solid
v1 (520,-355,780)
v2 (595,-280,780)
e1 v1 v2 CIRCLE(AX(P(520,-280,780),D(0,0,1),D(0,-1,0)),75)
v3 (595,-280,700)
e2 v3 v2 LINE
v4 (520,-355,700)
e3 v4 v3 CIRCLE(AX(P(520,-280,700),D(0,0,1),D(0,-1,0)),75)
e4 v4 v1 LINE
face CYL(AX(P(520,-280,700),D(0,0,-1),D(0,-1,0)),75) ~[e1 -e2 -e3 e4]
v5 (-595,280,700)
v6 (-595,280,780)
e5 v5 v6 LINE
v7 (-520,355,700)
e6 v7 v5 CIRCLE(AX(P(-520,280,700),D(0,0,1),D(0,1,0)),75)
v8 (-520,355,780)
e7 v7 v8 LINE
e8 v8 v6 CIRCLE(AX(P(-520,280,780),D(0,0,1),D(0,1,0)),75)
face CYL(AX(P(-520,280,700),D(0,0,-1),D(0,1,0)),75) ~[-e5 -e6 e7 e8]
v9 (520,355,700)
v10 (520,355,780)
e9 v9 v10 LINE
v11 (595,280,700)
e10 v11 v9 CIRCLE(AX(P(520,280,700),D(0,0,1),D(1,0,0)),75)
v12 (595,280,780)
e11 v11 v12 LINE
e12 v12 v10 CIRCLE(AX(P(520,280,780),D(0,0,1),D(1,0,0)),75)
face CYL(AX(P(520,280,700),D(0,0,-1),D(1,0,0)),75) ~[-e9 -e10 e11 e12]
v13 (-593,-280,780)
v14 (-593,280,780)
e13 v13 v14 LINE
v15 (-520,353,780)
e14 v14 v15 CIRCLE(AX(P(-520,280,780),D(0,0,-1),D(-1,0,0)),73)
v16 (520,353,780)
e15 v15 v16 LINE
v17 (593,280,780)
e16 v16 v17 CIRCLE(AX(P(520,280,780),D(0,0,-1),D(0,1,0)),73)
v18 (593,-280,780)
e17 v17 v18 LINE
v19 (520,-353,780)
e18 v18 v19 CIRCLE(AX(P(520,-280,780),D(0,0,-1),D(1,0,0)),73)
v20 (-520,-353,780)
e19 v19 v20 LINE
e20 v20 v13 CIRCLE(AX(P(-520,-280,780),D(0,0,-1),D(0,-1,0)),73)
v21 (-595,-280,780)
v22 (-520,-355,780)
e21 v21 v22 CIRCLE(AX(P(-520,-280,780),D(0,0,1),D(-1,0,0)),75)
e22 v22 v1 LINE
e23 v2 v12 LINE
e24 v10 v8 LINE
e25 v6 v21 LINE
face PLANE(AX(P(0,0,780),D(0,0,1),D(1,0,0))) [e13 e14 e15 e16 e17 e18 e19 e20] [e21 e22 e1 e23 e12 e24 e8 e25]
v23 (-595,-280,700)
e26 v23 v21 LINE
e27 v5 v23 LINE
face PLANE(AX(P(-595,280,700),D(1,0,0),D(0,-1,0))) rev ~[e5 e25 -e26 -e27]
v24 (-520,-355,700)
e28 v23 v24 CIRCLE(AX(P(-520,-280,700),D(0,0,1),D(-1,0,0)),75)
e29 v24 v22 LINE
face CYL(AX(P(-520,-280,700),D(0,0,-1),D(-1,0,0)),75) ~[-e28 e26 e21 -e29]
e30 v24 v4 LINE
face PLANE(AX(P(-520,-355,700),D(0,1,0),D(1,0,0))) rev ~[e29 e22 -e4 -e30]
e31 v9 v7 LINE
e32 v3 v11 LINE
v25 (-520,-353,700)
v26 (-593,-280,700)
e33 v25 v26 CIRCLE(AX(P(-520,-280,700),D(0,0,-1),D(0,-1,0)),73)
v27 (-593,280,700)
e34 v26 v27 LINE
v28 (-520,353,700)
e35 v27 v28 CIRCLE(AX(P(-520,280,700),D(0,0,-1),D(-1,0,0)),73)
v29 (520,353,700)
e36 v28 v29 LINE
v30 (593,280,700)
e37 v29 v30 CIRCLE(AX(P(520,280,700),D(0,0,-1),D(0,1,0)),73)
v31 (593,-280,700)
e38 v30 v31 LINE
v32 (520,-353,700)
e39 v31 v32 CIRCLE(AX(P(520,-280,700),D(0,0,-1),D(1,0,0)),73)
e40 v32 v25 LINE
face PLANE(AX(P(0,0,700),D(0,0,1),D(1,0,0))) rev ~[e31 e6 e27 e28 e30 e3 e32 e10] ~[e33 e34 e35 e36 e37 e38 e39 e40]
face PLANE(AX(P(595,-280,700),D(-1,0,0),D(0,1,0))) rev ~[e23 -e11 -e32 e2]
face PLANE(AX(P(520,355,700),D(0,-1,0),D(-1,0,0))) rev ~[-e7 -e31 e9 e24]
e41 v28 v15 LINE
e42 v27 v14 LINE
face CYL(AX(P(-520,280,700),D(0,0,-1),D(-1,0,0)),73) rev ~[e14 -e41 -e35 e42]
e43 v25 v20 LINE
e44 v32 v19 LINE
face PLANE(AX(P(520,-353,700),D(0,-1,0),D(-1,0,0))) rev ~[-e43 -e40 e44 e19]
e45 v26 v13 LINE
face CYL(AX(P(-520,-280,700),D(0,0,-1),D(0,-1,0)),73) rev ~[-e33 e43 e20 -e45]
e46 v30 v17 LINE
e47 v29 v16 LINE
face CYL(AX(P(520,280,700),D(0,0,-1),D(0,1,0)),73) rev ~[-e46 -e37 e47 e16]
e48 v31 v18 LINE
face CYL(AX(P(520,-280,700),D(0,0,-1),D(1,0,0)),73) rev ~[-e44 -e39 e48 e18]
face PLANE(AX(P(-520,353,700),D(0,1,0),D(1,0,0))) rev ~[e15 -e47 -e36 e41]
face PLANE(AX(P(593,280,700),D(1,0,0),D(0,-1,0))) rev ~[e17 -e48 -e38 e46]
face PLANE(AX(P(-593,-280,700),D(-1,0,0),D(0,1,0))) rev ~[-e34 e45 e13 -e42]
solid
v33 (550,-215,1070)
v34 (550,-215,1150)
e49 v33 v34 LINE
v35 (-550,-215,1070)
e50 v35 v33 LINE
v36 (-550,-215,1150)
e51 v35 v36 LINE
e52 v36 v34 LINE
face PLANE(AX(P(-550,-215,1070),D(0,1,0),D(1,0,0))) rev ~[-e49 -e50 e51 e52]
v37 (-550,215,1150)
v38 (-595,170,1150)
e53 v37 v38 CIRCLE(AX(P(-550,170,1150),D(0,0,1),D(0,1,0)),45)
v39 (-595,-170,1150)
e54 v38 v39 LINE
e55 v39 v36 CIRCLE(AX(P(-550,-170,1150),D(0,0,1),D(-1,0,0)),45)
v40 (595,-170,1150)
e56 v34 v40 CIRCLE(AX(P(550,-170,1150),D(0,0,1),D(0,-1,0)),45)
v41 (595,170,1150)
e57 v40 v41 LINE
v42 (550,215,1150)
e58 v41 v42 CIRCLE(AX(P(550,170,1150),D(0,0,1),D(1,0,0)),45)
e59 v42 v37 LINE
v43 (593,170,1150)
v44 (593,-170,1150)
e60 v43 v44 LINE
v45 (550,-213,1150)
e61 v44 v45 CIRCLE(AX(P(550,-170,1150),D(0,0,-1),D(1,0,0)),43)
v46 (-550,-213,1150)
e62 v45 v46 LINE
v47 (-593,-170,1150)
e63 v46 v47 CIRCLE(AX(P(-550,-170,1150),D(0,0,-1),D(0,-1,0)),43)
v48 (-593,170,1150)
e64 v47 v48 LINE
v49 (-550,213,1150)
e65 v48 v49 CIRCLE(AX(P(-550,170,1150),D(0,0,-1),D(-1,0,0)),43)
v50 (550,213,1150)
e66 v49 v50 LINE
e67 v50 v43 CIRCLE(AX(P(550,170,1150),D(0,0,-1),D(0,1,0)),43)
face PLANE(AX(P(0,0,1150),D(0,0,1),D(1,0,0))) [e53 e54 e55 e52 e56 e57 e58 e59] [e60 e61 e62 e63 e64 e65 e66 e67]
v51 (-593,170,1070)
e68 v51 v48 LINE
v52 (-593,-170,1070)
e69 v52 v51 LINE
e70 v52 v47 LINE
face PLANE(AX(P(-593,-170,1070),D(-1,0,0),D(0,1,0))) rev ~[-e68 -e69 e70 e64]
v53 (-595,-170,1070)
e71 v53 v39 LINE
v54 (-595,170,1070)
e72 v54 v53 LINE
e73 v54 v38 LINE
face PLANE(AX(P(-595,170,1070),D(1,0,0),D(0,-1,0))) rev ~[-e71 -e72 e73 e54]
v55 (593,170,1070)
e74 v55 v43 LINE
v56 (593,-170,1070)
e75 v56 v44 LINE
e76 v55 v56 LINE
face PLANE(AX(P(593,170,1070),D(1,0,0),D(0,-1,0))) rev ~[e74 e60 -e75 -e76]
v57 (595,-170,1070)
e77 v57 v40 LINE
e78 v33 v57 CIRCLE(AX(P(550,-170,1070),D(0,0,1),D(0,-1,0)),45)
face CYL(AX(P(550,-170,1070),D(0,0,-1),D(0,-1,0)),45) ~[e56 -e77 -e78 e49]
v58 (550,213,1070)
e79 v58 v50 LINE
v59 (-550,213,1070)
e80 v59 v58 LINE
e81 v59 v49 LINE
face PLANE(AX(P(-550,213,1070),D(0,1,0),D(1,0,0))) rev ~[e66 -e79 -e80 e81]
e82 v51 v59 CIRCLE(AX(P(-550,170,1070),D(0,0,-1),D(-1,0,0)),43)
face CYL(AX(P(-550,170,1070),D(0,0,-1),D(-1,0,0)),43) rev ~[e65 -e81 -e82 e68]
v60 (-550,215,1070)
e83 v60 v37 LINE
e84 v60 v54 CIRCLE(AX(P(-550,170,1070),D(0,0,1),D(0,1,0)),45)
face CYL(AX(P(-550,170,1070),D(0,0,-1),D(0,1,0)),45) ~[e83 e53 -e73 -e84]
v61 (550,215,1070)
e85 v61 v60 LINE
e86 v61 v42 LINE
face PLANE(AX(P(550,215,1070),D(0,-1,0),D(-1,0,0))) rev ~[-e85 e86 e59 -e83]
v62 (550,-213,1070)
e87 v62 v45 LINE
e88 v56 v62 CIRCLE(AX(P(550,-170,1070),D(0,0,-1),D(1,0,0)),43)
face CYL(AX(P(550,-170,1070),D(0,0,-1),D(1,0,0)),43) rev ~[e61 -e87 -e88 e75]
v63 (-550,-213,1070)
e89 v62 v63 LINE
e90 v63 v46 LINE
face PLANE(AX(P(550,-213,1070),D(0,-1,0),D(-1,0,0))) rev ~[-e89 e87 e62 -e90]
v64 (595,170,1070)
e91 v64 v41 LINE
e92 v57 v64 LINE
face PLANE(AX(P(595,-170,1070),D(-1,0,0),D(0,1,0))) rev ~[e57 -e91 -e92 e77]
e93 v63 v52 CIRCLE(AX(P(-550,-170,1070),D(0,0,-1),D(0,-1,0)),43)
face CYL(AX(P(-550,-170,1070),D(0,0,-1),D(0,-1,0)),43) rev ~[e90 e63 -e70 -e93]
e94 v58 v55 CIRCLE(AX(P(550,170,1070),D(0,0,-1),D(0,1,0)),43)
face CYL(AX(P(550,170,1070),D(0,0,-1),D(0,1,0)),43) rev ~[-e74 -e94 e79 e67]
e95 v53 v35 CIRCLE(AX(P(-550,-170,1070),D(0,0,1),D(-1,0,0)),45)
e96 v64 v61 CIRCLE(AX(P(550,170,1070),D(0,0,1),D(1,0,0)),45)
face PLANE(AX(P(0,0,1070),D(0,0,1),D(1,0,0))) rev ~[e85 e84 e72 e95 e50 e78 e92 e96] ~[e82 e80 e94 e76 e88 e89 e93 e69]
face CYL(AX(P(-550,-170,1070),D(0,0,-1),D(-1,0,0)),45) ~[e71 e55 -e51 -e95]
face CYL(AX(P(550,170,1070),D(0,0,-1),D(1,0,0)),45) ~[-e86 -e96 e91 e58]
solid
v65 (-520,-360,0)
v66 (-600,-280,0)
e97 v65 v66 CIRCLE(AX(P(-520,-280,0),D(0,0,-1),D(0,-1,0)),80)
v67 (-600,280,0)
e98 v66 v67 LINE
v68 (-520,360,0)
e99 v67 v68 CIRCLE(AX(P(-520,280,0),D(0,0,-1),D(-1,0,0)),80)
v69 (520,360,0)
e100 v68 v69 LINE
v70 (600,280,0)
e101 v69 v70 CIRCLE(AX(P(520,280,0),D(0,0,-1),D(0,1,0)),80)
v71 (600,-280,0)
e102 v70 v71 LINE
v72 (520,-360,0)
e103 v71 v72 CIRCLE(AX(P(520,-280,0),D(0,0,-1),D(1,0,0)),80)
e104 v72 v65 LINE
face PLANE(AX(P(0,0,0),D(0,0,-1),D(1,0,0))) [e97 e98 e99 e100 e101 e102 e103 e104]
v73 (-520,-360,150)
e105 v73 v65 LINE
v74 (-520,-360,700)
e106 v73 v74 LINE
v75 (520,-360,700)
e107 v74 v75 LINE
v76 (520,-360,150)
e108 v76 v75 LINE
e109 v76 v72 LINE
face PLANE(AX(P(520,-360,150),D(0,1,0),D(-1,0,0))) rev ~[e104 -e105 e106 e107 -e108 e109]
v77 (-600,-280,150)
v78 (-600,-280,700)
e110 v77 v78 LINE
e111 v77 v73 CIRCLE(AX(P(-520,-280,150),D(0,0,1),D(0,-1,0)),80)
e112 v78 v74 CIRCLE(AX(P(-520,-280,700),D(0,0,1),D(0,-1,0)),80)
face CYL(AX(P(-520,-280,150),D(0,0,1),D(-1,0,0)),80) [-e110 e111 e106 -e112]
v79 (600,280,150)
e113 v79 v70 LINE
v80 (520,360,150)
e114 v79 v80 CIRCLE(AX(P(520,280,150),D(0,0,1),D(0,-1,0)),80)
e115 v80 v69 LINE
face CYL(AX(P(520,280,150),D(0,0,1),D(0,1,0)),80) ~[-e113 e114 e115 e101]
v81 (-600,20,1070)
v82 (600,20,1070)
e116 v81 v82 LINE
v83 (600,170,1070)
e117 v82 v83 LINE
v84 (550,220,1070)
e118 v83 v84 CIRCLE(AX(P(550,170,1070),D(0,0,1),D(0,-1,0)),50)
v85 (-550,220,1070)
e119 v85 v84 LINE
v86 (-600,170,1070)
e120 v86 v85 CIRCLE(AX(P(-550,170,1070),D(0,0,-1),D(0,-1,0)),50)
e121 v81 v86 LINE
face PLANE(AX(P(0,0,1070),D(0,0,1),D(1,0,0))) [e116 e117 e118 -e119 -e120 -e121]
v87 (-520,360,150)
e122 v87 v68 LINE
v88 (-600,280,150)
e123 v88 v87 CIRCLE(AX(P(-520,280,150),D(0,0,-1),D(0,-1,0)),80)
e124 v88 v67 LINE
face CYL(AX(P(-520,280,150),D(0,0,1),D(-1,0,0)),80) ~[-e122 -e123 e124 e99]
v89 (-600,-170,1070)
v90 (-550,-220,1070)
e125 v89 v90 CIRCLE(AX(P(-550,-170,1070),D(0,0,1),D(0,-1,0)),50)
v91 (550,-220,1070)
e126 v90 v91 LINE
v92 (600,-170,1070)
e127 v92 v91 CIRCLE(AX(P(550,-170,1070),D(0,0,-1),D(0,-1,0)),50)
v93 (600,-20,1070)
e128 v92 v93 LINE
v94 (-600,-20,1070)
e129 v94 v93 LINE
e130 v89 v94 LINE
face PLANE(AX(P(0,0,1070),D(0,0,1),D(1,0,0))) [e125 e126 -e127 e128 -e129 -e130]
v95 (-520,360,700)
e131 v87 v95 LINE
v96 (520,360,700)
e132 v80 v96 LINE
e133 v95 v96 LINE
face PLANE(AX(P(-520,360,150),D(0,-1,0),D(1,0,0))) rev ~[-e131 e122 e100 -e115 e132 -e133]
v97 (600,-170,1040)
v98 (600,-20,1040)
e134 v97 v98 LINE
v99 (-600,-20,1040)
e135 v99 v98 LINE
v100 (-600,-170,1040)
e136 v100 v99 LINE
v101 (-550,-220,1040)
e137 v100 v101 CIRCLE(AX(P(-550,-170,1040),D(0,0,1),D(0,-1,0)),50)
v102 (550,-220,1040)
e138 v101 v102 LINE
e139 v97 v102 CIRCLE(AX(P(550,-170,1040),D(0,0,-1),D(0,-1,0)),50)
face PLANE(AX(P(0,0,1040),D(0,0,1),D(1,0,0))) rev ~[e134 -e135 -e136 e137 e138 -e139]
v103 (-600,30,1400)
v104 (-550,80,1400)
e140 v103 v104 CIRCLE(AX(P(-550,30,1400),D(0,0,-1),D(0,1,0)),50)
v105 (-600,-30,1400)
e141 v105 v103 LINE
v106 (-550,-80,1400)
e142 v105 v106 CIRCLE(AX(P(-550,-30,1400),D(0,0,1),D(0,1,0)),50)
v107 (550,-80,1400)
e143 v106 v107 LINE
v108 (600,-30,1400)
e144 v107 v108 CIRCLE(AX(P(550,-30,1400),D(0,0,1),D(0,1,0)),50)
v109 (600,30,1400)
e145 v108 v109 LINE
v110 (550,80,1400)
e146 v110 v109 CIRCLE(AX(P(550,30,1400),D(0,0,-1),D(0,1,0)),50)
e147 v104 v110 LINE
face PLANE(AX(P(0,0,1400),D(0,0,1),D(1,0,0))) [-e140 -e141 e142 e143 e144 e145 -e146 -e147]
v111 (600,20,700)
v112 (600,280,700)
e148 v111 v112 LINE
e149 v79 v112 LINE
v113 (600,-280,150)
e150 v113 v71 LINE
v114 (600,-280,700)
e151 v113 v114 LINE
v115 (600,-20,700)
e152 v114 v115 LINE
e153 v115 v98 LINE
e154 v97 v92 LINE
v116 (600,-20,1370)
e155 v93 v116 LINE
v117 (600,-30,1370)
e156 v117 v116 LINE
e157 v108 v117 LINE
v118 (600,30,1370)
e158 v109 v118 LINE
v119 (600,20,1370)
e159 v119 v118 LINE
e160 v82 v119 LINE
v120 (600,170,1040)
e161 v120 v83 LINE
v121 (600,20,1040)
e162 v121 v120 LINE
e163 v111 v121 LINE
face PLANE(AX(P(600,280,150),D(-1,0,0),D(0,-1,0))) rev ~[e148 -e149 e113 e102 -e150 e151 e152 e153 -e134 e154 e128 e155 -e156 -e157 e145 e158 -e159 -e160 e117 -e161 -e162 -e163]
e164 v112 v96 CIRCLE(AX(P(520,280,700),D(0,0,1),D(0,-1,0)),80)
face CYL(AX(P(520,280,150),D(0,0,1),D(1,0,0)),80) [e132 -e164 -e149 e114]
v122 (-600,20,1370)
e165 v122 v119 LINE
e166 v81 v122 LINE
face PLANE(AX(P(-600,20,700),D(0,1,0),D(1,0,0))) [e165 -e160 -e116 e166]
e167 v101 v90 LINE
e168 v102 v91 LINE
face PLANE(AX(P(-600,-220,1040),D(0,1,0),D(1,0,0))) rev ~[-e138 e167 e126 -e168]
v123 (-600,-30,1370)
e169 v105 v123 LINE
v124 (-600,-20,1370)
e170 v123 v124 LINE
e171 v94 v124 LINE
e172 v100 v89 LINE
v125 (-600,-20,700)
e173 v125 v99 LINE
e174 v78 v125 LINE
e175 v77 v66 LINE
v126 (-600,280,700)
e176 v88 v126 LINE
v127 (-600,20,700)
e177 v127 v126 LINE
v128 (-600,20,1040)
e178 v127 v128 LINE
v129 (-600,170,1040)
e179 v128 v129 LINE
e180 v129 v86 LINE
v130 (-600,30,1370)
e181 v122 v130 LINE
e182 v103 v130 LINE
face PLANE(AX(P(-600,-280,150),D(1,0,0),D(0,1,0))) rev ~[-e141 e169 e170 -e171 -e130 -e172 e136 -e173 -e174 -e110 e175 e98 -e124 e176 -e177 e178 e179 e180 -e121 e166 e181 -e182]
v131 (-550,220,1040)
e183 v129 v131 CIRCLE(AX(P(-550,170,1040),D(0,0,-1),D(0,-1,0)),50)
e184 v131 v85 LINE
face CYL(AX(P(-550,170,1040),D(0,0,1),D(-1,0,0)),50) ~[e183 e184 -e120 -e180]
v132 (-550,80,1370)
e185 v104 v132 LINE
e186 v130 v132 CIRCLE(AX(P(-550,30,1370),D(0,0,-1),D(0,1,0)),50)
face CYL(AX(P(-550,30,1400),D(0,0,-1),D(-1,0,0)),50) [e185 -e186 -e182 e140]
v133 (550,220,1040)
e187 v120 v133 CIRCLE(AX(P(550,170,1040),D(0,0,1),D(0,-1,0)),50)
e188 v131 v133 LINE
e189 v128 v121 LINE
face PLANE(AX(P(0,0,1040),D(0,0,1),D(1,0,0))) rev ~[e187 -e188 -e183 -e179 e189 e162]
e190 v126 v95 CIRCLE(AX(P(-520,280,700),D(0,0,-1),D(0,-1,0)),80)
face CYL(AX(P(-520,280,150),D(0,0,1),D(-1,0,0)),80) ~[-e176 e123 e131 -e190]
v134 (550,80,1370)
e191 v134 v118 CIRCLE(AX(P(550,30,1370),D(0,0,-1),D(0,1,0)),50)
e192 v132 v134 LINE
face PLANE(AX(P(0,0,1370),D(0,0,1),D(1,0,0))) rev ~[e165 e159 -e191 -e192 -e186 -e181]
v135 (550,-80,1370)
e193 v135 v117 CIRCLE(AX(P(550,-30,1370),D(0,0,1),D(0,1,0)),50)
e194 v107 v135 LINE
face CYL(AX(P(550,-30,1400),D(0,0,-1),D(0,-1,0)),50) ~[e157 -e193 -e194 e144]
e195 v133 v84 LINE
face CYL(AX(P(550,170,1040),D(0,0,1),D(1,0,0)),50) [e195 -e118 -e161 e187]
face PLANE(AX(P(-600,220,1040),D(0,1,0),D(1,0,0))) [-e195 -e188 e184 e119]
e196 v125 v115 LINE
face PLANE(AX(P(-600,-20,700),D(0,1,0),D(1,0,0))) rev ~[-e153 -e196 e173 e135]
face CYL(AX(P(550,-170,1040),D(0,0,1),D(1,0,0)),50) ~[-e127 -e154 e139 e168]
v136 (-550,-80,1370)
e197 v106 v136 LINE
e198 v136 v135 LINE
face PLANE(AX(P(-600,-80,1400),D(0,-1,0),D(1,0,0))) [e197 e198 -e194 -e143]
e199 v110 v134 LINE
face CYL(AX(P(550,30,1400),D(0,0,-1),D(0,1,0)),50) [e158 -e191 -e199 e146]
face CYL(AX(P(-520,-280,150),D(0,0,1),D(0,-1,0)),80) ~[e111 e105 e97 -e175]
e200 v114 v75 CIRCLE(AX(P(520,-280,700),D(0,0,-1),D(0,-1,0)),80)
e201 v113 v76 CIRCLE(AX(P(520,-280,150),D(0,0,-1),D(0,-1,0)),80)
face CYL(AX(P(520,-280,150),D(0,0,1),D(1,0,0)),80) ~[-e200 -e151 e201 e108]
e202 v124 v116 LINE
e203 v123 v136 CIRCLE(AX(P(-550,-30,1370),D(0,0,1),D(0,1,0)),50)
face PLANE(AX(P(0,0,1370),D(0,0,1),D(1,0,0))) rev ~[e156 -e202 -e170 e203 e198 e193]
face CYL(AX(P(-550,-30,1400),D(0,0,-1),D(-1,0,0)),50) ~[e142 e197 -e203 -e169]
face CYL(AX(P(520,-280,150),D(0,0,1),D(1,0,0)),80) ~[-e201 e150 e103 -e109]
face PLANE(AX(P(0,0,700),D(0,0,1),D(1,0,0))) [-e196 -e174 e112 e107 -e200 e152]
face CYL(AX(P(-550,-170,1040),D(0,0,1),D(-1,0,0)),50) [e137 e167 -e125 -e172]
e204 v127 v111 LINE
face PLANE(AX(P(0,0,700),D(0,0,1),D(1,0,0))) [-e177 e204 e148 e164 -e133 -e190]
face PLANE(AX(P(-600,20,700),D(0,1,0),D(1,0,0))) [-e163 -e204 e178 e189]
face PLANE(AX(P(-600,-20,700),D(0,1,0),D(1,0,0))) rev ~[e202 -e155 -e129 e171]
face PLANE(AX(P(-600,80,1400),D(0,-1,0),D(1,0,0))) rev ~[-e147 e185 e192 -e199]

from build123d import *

# Parameters (mm, degrees)
F2_W      = 1100
F2_H      = 620
F3_DEPTH  = 150
F4_W      = 1200
F4_H      = 720
F5_DEPTH  = 550
F6_W      = 1200
F6_H      = 40
F7_DEPTH  = 700
F9_W      = 1200
F9_H      = 440
F10_DEPTH = 30
F11_W     = 1200
F11_H     = 160
F12_DEPTH = 30
F13_R     = 80
F14_R     = 85
F15_R     = 50
F16_R     = 50
F18_DEPTH = 80
F20_DEPTH = 80
F23_DEPTH = 1200
F25_DEPTH = 5
F27_DEPTH = 5
F29_DEPTH = 5
F31_DEPTH = 5
F32_R     = 15
F33_DEPTH = 594.9519681096
F35_DEPTH = 150


with BuildPart() as f3:
    # F2 (on Top) → F3 (new body, through all)
    with BuildSketch(Plane.XY):
        Rectangle(F2_W, F2_H)
    extrude(amount=F3_DEPTH)

    # F4 (on face) → F5 (join, through all)
    with BuildSketch(Plane.XY.offset(150)):
        Rectangle(F4_W, F4_H)
    extrude(amount=F5_DEPTH)

    # F6 (on face) → F7 (join, through all)
    with BuildSketch(Plane.XY.offset(700)):
        Rectangle(F6_W, F6_H)
    extrude(amount=F7_DEPTH)

    # F9 (on plane+point) → F10 (join, through all)
    with BuildSketch(Plane.XY.offset(1040)):
        Rectangle(F9_W, F9_H)
    extrude(amount=F10_DEPTH)

    # F11 (on face) → F12 (join, through all)
    with BuildSketch(Plane.XY.offset(1400)):
        Rectangle(F11_W, F11_H)
    extrude(amount=-F12_DEPTH)

    # F13
    f13_edges = [f3.edges().sort_by_distance(p)[0] for p in [
        (600, -360, 425),
        (-600, -360, 425),
        (600, 360, 425),
        (-600, 360, 425),
    ]]
    fillet(f13_edges, radius=F13_R)

    # F14
    f14_edges = [f3.edges().sort_by_distance(p)[0] for p in [
        (-550, 310, 75),
        (-550, -310, 75),
        (550, -310, 75),
        (550, 310, 75),
    ]]
    fillet(f14_edges, radius=F14_R)

    # F15
    f15_edges = [f3.edges().sort_by_distance(p)[0] for p in [
        (600, 220, 1055),
        (-600, 220, 1055),
        (-600, -220, 1055),
        (600, -220, 1055),
    ]]
    fillet(f15_edges, radius=F15_R)

    # F16
    f16_edges = [f3.edges().sort_by_distance(p)[0] for p in [
        (600, -80, 1385),
        (600, 80, 1385),
        (-600, -80, 1385),
        (-600, 80, 1385),
    ]]
    fillet(f16_edges, radius=F16_R)

    # F34 (on face) → F35 (join, through all)
    with BuildSketch(Plane(origin=(0, 0, 150), x_dir=(1, 0, 0), z_dir=(0, 0, -1))):
        with BuildLine():
            Line((520, 360), (-520, 360))
            ThreePointArc((-520, 360), (-576.5685424949, 336.5685424949), (-600, 280))
            Line((-600, 280), (-600, -280))
            ThreePointArc((-600, -280), (-576.5685424949, -336.5685424949), (-520, -360))
            Line((-520, -360), (520, -360))
            ThreePointArc((520, -360), (576.5685424949, -336.5685424949), (600, -280))
            Line((600, -280), (600, 280))
            ThreePointArc((600, 280), (576.5685424949, 336.5685424949), (520, 360))
        make_face()
    extrude(amount=F35_DEPTH)


with BuildPart() as f18:
    # F17 (on face) → F18 (new body)
    with BuildSketch(Plane.XY.offset(700)):
        with BuildLine():
            ThreePointArc((-520, 355), (-573.033008589, 333.033008589), (-595, 280))
            Line((-595, 280), (-595, -280))
            ThreePointArc((-595, -280), (-573.033008589, -333.033008589), (-520, -355))
            Line((-520, -355), (520, -355))
            ThreePointArc((520, -355), (573.033008589, -333.033008589), (595, -280))
            Line((595, -280), (595, 280))
            ThreePointArc((595, 280), (573.033008589, 333.033008589), (520, 355))
            Line((520, 355), (-520, 355))
        make_face()
        with BuildLine():
            ThreePointArc((593, -280), (571.6187950266, -331.6187950266), (520, -353))
            Line((520, -353), (-520, -353))
            ThreePointArc((-520, -353), (-571.6187950266, -331.6187950266), (-593, -280))
            Line((-593, -280), (-593, 280))
            ThreePointArc((-593, 280), (-571.6187950266, 331.6187950266), (-520, 353))
            Line((-520, 353), (520, 353))
            ThreePointArc((520, 353), (571.6187950266, 331.6187950266), (593, 280))
            Line((593, 280), (593, -280))
        make_face(mode=Mode.SUBTRACT)
    extrude(amount=F18_DEPTH)


with BuildPart() as f20:
    # F19 (on face) → F20 (new body)
    with BuildSketch(Plane.XY.offset(1070)):
        with BuildLine():
            ThreePointArc((-550, 215), (-581.8198051534, 201.8198051534), (-595, 170))
            Line((-595, 170), (-595, 15))
            Line((-595, 15), (-595, -15))
            Line((-595, -15), (-595, -170))
            ThreePointArc((-595, -170), (-581.8198051534, -201.8198051534), (-550, -215))
            Line((-550, -215), (550, -215))
            ThreePointArc((550, -215), (581.8198051534, -201.8198051534), (595, -170))
            Line((595, -170), (595, -15))
            Line((595, -15), (595, 15))
            Line((595, 15), (595, 170))
            ThreePointArc((595, 170), (581.8198051534, 201.8198051534), (550, 215))
            Line((550, 215), (-550, 215))
        make_face()
        with BuildLine():
            Line((593, 170), (593, 15))
            Line((593, 15), (593, -15))
            Line((593, -15), (593, -170))
            ThreePointArc((593, -170), (580.405591591, -200.405591591), (550, -213))
            Line((550, -213), (-550, -213))
            ThreePointArc((-550, -213), (-580.405591591, -200.405591591), (-593, -170))
            Line((-593, -170), (-593, -15))
            Line((-593, -15), (-593, 15))
            Line((-593, 15), (-593, 170))
            ThreePointArc((-593, 170), (-580.405591591, 200.405591591), (-550, 213))
            Line((-550, 213), (550, 213))
            ThreePointArc((550, 213), (580.405591591, 200.405591591), (593, 170))
        make_face(mode=Mode.SUBTRACT)
    extrude(amount=F20_DEPTH)


with BuildPart() as f23:
    # F22 (on face) → F23 (new body, through all)
    with BuildSketch(Plane.YZ.offset(600)):
        Polygon((360, 1950), (0, 2000), (-360, 1950), (-359.2928826924, 1945.0501788468), (0, 1994.9519681096), (359.2928826924, 1945.0501788468), align=None)
    extrude(amount=-F23_DEPTH)

    # F24 (on face) → F25 (join)
    with BuildSketch(Plane.XZ.offset(360)):
        with BuildLine():
            Line((600, 1950), (-600, 1950))
            Line((-600, 1950), (-600, 1860))
            ThreePointArc((-600, 1860), (-540, 1800), (-480, 1860))
            ThreePointArc((-480, 1860), (-420, 1800), (-360, 1860))
            ThreePointArc((-360, 1860), (-300, 1800), (-240, 1860))
            ThreePointArc((-240, 1860), (-180, 1800), (-120, 1860))
            ThreePointArc((-120, 1860), (-60, 1800), (0, 1860))
            ThreePointArc((0, 1860), (60, 1800), (120, 1860))
            ThreePointArc((120, 1860), (180, 1800), (240, 1860))
            ThreePointArc((240, 1860), (300, 1800), (360, 1860))
            ThreePointArc((360, 1860), (420, 1800), (480, 1860))
            ThreePointArc((480, 1860), (540, 1800), (600, 1860))
            Line((600, 1860), (600, 1950))
        make_face()
    extrude(amount=-F25_DEPTH)

    # F26 (on face) → F27 (join)
    with BuildSketch(Plane(origin=(0, 360, 0), x_dir=(-1, 0, 0), z_dir=(0, 1, 0))):
        with BuildLine():
            Line((600, 1860), (600, 1950))
            Line((600, 1950), (-600, 1950))
            Line((-600, 1950), (-600, 1860))
            ThreePointArc((-600, 1860), (-540, 1800), (-480, 1860))
            ThreePointArc((-480, 1860), (-420, 1800), (-360, 1860))
            ThreePointArc((-360, 1860), (-300, 1800), (-240, 1860))
            ThreePointArc((-240, 1860), (-180, 1800), (-120, 1860))
            ThreePointArc((-120, 1860), (-60, 1800), (0, 1860))
            ThreePointArc((0, 1860), (60, 1800), (120, 1860))
            ThreePointArc((120, 1860), (180, 1800), (240, 1860))
            ThreePointArc((240, 1860), (300, 1800), (360, 1860))
            ThreePointArc((360, 1860), (420, 1800), (480, 1860))
            ThreePointArc((480, 1860), (540, 1800), (600, 1860))
        make_face()
    extrude(amount=-F27_DEPTH)

    # F28 (on face) → F29 (join)
    with BuildSketch(Plane.YZ.offset(600)):
        with BuildLine():
            Line((360, 1950), (0, 2000))
            Line((0, 2000), (-360, 1950))
            Line((-360, 1950), (-360, 1860))
            ThreePointArc((-360, 1860), (-300, 1800), (-240, 1860))
            ThreePointArc((-240, 1860), (-180, 1800), (-120, 1860))
            ThreePointArc((-120, 1860), (-60, 1800), (0, 1860))
            ThreePointArc((0, 1860), (60, 1800), (120, 1860))
            ThreePointArc((120, 1860), (180, 1800), (240, 1860))
            ThreePointArc((240, 1860), (300, 1800), (360, 1860))
            Line((360, 1860), (360, 1950))
        make_face()
    extrude(amount=-F29_DEPTH)

    # F30 (on face) → F31 (join)
    with BuildSketch(Plane(origin=(-600, 0, 0), x_dir=(0, -1, 0), z_dir=(-1, 0, 0))):
        with BuildLine():
            Line((-360, 1950), (-360, 1860))
            ThreePointArc((-360, 1860), (-300, 1800), (-240, 1860))
            ThreePointArc((-240, 1860), (-180, 1800), (-120, 1860))
            ThreePointArc((-120, 1860), (-60, 1800), (0, 1860))
            ThreePointArc((0, 1860), (60, 1800), (120, 1860))
            ThreePointArc((120, 1860), (180, 1800), (240, 1860))
            ThreePointArc((240, 1860), (300, 1800), (360, 1860))
            Line((360, 1860), (360, 1950))
            Line((360, 1950), (0, 2000))
            Line((0, 2000), (-360, 1950))
        make_face()
    extrude(amount=-F31_DEPTH)


with BuildPart() as f33:
    # F32 (on face) → F33 (new body, through all)
    with BuildSketch(Plane.XY.offset(1400)):
        with Locations((-520, 0)):
            Circle(F32_R)
    extrude(amount=F33_DEPTH)


with BuildPart() as f33b:
    # F32 (on face) → F33, piece 2 (new body, through all)
    with BuildSketch(Plane.XY.offset(1400)):
        with Locations((520, 0)):
            Circle(F32_R)
    extrude(amount=F33_DEPTH)


solid = Compound([f3.part, f18.part, f20.part])
